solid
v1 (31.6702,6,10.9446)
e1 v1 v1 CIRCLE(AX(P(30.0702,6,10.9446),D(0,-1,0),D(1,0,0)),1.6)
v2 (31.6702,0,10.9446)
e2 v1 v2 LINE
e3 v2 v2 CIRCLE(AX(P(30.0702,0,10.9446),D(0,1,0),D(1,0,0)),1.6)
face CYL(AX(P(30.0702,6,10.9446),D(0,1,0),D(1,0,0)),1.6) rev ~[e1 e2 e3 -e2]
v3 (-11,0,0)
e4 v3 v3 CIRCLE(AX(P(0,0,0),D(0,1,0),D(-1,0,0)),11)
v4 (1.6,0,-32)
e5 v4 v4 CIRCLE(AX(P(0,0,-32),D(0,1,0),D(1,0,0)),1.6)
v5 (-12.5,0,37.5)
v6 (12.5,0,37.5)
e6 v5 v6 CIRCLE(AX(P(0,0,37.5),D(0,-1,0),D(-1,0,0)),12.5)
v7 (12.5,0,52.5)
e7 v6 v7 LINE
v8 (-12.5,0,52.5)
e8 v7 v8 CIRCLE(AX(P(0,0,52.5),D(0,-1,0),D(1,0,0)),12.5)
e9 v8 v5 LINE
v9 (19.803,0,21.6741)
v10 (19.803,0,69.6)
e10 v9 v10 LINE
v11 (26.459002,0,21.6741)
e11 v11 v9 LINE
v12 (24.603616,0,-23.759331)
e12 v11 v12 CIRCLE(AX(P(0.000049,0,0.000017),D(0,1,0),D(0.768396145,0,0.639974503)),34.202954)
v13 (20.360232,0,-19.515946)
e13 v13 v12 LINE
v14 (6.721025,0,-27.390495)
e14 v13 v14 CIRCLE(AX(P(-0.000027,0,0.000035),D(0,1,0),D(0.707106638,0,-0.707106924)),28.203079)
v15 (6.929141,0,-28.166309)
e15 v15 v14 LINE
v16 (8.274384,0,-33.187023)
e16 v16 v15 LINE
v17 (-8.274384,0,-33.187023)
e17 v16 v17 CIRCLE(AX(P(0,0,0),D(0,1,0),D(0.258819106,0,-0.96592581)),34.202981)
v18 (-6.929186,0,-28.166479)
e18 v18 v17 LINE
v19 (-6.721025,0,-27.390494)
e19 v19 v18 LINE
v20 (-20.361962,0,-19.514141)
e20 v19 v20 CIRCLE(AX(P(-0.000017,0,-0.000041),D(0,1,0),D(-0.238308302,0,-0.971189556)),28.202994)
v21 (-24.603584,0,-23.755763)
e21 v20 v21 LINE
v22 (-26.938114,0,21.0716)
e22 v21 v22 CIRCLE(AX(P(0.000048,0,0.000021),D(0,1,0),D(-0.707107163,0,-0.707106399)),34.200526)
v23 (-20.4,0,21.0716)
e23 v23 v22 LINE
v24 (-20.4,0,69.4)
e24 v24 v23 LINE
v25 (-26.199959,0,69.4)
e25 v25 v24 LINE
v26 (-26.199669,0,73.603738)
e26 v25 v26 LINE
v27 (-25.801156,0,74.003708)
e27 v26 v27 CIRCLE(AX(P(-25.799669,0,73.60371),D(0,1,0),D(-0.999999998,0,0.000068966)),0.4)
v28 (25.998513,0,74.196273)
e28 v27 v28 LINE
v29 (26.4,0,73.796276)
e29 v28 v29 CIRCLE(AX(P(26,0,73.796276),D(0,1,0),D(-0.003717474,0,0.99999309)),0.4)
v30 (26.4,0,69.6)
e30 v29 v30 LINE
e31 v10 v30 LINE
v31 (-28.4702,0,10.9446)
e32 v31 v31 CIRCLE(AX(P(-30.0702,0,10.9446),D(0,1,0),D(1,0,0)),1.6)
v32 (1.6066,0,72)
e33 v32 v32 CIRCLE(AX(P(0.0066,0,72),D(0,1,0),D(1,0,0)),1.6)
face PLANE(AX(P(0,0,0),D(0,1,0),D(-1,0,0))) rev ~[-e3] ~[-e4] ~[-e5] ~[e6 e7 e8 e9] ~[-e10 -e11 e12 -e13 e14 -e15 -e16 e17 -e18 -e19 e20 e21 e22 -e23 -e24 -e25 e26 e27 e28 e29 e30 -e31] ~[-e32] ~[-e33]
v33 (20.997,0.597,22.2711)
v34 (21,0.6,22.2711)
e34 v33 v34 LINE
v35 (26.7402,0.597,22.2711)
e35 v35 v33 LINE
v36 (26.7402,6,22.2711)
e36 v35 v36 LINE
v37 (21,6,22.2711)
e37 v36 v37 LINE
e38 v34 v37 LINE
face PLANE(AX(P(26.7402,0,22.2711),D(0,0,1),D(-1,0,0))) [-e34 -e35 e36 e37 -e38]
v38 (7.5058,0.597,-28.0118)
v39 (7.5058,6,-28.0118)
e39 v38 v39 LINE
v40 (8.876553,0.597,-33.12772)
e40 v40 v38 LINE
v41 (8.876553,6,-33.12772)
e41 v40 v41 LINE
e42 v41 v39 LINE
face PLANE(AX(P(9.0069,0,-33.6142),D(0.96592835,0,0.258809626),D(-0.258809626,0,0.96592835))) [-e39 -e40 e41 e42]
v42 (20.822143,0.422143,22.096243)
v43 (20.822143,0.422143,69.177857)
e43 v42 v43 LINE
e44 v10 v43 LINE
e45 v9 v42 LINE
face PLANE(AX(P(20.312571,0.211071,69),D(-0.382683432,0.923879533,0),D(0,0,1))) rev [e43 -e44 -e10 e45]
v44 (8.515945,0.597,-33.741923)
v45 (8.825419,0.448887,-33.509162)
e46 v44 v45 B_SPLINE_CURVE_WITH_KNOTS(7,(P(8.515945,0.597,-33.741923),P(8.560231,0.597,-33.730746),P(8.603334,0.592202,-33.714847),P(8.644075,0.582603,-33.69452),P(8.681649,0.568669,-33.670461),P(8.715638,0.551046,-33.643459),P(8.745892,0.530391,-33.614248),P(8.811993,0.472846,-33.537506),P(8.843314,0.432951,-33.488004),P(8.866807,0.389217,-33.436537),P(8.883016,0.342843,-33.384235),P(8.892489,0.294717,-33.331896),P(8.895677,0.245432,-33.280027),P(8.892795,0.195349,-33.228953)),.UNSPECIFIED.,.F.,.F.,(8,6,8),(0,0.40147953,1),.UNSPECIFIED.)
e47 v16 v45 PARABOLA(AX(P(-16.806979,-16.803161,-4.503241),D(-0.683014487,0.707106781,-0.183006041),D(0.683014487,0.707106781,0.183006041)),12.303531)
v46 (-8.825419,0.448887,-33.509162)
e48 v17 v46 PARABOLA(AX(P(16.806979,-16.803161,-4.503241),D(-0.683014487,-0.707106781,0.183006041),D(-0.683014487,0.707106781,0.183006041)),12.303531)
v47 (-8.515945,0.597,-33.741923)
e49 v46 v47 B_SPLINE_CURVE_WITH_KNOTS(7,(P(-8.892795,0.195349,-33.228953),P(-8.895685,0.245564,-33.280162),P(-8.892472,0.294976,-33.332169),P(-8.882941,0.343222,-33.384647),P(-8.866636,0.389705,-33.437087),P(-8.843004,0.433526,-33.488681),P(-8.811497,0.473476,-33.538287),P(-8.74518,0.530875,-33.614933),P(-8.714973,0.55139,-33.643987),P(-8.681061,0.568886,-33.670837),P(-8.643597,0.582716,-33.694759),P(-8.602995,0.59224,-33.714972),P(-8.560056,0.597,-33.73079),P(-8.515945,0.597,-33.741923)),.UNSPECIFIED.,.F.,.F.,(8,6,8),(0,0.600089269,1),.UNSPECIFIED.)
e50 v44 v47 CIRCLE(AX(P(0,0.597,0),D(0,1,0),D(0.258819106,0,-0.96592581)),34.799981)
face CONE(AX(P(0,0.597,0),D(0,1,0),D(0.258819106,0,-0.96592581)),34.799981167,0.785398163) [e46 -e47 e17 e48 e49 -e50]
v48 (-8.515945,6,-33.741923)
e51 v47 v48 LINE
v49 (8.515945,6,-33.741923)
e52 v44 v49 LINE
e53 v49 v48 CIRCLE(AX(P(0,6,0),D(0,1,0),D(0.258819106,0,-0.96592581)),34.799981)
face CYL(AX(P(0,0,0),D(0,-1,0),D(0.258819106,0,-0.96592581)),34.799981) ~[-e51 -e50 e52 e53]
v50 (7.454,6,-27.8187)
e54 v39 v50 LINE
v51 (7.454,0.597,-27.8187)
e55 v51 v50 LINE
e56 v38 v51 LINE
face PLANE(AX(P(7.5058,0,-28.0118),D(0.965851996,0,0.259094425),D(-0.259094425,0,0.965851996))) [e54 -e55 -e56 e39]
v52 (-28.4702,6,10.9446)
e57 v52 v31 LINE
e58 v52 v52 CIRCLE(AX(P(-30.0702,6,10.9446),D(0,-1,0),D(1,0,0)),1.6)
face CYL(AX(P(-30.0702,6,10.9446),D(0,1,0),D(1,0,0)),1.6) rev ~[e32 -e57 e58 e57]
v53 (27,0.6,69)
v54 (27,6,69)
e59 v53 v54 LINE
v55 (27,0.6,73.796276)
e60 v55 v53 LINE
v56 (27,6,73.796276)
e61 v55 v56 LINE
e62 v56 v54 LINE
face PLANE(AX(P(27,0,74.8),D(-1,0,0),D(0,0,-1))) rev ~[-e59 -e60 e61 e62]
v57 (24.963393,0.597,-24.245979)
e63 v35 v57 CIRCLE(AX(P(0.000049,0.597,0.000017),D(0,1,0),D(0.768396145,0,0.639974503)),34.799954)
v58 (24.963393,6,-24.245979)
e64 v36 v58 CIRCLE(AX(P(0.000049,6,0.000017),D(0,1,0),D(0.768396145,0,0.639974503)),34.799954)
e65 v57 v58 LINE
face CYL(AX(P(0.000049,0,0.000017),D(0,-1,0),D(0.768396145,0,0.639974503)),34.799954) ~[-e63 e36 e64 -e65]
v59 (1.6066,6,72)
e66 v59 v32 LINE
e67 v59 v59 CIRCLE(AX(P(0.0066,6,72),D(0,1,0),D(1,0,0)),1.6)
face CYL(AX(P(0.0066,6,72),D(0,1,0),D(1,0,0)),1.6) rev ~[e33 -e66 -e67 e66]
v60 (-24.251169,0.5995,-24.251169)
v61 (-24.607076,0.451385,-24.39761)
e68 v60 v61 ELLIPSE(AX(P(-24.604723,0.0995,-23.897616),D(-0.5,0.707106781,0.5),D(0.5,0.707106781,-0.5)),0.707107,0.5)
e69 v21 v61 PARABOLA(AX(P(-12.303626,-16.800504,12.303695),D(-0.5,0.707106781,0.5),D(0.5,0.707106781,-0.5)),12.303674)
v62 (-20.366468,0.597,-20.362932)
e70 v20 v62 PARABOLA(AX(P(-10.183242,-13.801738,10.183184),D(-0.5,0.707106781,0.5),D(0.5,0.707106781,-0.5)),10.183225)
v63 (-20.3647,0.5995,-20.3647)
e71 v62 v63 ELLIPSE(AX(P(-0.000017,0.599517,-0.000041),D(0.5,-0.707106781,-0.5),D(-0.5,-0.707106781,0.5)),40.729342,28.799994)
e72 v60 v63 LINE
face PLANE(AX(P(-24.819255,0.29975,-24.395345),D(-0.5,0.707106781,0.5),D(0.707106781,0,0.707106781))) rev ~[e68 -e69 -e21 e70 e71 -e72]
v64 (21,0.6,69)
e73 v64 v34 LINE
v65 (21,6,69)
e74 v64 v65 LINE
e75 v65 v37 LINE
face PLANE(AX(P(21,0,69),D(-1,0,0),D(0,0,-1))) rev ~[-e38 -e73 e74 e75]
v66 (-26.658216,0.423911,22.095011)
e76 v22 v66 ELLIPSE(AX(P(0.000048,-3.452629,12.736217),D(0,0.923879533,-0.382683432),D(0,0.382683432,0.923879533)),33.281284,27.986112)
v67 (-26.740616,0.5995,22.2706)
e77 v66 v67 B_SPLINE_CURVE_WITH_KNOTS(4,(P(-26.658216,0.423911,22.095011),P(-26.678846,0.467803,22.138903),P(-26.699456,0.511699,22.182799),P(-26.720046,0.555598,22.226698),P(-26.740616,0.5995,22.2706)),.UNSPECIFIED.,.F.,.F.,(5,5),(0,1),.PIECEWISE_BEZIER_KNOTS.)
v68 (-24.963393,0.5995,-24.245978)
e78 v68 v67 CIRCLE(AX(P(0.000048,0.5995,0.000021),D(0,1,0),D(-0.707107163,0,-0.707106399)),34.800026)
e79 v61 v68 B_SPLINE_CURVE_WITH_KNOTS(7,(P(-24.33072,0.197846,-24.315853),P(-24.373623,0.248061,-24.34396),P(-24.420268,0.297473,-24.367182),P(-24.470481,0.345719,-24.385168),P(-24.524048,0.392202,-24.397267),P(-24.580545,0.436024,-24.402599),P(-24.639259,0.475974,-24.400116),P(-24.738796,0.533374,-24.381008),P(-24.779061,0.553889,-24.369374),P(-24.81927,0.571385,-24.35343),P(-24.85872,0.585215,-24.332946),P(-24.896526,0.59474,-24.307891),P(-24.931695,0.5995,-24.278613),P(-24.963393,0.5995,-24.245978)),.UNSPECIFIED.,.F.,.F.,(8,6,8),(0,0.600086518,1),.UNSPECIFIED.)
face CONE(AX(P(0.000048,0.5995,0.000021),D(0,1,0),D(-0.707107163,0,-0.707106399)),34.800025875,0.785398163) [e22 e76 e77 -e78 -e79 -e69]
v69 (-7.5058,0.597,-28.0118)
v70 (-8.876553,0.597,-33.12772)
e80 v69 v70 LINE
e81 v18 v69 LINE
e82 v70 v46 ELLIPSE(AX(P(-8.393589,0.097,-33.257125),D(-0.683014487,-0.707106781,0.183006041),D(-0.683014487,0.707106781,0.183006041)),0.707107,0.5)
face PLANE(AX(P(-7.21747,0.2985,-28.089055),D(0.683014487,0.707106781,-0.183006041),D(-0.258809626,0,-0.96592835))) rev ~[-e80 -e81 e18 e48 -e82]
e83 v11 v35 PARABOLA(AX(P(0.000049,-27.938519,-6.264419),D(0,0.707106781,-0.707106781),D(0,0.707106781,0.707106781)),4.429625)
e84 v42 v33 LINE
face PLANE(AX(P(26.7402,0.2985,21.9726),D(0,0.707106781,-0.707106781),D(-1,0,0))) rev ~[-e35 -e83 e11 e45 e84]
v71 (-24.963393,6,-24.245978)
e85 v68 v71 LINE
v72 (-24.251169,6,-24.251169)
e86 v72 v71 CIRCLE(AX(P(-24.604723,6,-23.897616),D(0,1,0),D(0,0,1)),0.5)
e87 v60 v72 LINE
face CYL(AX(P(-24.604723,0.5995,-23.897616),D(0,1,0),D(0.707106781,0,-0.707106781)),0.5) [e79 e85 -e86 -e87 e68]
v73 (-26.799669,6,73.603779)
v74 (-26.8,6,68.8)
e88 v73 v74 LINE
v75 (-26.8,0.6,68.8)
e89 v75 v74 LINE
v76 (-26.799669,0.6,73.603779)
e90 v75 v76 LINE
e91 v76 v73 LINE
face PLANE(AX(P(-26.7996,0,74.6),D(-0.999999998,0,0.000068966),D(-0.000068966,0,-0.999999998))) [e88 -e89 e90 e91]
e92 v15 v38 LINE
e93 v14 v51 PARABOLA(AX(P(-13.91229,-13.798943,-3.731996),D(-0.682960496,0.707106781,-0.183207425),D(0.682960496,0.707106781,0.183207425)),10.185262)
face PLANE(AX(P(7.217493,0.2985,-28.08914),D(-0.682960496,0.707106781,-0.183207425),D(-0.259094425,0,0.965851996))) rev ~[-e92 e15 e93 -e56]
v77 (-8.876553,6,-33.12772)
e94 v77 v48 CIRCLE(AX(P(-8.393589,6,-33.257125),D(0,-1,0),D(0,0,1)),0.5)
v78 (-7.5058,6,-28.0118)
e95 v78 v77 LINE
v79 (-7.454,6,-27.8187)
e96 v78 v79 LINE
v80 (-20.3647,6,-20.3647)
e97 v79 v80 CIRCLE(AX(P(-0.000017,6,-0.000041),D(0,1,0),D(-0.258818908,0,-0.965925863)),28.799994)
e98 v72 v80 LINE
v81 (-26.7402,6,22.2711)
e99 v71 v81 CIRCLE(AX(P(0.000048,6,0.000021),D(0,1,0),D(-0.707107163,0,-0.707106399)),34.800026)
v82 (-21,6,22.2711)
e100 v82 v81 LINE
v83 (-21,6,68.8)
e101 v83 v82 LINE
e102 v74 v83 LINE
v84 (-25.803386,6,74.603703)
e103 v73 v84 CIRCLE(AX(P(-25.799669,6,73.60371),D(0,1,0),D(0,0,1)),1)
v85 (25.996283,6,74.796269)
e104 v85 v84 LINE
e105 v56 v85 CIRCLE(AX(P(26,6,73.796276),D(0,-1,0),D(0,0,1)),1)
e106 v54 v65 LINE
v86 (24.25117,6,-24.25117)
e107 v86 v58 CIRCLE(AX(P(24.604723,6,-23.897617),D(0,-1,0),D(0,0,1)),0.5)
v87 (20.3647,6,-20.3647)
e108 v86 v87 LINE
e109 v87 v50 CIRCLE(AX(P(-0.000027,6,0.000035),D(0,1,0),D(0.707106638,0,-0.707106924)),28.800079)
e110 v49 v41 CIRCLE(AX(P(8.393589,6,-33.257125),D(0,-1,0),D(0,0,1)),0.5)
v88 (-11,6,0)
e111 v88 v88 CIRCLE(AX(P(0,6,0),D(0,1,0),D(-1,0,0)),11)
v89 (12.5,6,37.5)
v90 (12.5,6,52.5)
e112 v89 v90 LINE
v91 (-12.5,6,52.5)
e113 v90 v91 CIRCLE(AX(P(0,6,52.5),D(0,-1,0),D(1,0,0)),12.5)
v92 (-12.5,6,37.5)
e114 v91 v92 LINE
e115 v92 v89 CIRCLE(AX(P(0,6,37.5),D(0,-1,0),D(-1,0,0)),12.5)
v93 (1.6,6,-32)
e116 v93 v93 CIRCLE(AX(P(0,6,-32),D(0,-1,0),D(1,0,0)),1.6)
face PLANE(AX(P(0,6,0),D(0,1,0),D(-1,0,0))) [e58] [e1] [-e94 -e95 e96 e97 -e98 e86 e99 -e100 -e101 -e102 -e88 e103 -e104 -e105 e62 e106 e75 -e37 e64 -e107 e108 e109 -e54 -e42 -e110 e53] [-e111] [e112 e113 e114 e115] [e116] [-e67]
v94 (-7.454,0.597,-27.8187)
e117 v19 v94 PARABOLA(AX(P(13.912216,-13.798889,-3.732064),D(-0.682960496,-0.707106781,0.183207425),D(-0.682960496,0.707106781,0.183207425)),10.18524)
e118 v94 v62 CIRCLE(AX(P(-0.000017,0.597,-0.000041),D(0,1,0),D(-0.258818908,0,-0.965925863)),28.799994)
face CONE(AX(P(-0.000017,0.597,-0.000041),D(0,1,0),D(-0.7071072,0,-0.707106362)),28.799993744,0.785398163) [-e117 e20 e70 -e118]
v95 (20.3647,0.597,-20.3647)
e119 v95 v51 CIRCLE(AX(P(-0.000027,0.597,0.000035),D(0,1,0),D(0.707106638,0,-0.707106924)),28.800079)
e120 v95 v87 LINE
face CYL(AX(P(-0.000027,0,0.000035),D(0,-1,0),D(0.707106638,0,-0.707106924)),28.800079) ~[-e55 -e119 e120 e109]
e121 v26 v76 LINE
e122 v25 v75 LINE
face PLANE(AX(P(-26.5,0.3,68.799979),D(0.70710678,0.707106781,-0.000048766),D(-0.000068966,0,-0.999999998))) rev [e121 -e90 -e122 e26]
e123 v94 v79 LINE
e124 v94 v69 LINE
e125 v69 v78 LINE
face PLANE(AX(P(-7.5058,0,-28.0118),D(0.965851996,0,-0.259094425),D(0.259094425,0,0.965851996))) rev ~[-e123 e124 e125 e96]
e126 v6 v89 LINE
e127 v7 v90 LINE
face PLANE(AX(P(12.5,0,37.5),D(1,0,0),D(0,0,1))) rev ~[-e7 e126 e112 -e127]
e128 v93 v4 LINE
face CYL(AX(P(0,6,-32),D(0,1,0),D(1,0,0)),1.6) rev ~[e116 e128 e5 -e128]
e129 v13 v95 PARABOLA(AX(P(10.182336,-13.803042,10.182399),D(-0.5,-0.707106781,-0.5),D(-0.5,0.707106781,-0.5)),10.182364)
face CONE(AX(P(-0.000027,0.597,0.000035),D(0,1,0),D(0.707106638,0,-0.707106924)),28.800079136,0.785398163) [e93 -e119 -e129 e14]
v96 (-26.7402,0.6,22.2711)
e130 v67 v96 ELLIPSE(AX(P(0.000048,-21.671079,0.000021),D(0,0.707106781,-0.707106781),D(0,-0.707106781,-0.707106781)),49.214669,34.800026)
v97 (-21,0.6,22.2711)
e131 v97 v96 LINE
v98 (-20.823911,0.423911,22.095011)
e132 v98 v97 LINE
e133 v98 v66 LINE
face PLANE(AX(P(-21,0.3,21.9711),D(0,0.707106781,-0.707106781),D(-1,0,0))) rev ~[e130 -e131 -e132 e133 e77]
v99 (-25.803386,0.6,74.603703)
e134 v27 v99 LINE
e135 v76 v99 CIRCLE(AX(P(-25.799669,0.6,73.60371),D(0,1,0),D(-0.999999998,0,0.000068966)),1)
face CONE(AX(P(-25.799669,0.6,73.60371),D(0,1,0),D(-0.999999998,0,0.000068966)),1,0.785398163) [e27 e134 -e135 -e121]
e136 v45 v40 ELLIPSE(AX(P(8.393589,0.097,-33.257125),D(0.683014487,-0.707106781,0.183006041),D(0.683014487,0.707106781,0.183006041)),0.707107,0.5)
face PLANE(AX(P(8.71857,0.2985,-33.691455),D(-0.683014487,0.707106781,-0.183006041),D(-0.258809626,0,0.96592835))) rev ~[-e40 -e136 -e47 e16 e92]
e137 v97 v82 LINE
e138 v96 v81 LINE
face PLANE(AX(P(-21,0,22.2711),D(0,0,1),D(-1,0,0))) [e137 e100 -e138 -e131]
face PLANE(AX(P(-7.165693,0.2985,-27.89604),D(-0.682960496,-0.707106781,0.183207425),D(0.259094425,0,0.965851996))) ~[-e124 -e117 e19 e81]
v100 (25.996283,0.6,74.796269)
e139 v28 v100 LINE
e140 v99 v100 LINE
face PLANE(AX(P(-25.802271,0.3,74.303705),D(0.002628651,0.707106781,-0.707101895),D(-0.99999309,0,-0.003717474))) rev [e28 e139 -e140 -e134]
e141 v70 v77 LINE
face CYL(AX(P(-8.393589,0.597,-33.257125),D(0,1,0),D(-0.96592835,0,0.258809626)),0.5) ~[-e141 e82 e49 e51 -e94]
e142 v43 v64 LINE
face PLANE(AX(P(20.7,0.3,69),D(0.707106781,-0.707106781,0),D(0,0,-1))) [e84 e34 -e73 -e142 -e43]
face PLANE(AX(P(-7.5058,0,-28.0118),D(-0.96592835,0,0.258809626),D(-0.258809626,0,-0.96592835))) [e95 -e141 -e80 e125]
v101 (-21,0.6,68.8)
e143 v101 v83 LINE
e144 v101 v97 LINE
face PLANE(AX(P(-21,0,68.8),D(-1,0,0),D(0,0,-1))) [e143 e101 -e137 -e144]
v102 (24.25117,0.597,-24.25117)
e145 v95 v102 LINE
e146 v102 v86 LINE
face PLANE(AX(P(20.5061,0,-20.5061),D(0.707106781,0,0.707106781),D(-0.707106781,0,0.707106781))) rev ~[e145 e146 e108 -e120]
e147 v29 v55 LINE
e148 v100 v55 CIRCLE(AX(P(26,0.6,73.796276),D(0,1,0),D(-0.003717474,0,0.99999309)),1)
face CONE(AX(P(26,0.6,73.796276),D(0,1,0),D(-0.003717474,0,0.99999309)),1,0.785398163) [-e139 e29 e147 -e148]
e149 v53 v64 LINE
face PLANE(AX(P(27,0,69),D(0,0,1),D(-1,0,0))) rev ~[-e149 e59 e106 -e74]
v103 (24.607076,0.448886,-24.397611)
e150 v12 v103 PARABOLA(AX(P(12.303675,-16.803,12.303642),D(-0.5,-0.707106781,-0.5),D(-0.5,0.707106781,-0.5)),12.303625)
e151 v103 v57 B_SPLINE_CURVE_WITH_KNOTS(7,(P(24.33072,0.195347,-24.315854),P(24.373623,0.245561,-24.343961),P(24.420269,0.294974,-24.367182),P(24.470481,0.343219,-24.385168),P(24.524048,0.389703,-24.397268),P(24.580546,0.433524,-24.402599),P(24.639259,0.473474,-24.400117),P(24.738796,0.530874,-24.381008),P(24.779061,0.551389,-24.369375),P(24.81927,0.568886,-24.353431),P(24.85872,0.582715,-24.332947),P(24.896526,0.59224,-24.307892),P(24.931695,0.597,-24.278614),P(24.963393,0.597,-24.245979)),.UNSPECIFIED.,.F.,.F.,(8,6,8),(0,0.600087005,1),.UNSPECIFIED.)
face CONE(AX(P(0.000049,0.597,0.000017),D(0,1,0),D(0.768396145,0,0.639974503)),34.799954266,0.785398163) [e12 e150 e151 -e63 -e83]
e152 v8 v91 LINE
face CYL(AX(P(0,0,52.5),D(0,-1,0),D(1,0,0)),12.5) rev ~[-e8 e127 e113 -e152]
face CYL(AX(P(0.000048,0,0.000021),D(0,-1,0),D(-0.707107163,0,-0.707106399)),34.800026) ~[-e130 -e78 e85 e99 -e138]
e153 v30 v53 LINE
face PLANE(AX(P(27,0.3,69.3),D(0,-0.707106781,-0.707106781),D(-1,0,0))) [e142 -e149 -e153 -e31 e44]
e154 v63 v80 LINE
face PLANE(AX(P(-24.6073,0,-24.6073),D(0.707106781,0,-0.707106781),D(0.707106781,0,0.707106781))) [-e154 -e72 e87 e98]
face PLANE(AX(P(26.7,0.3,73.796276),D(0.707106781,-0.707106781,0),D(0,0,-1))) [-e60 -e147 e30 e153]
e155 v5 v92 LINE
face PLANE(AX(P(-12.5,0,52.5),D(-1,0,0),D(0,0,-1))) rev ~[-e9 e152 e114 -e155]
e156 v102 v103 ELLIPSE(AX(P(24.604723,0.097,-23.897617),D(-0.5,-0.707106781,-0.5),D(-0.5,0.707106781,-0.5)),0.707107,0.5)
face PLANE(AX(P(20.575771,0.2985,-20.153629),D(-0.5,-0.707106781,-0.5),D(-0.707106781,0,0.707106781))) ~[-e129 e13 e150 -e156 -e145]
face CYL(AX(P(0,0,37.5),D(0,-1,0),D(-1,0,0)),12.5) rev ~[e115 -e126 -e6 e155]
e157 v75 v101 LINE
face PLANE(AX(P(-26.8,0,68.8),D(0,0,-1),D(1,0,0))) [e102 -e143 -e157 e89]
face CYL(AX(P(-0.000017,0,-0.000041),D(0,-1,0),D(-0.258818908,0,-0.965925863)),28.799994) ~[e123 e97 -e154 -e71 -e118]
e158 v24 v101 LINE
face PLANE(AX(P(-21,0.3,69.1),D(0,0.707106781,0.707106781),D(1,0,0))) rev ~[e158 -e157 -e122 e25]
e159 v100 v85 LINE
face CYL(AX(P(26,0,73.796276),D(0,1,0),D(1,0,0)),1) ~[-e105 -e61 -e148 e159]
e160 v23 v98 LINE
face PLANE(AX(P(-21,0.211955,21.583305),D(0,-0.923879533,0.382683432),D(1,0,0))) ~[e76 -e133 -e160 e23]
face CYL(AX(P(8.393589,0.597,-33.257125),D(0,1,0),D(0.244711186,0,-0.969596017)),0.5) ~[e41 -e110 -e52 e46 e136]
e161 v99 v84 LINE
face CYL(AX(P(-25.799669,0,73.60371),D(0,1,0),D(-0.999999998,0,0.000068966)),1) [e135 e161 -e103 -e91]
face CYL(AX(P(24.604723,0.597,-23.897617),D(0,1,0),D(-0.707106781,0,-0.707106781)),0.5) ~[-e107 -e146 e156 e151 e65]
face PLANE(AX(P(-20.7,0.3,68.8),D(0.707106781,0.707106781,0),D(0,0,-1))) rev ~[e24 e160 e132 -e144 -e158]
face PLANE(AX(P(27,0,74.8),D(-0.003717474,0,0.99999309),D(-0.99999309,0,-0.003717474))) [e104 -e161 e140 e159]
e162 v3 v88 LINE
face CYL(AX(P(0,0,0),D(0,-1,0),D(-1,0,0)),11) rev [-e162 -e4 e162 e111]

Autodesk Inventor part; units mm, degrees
ref_plane "YZ Plane" through (0, 0, 0) normal (1, 0, 0) x (0, 1, 0)
ref_plane "XZ Plane" through (0, 0, 0) normal (0, 1, 0) x (-1, 0, 0)
ref_plane "XY Plane" through (0, 0, 0) normal (0, 0, 1) x (1, 0, 0)
sketch "Boceto1" plane through (0, 0, 0) normal (0, 1, 0) x (-1, 0, 0)
  line L0 (26.7996, 74.6) -> (26.8, 68.8)
  line L1 (21, 68.8) -> (21, 22.2711)
  line L2 (7.5058, -28.0118) -> (9.0069, -33.6142)
  line L3 (-9.0069, -33.6142) -> (-7.5058, -28.0118)
  line L4 (-7.5058, -28.0118) -> (-9.0069, -33.6142)
  line L5 (-20.5061, -20.5061) -> (-24.6073, -24.6073)
  line L6 (-20.5061, -20.5061) -> (-24.6073, -24.6073)
  circle A0 centre (0, 0) radius 11
  line L7 (-21, 69) -> (-21, 22.2711)
  line L8 (-21, 22.2711) -> (-21, 69)
  line L9 (-26.7402, 22.2711) -> (-21, 22.2711)
  line L10 (-27, 74.8) -> (26.7996, 74.6)
  arc A1 (-9.0069, -33.6142) -> (9.0069, -33.6142) centre (0, 0) ccw
  arc A2 (-26.7402, 22.2711) -> (-24.6073, -24.6073) centre (0, 0) ccw
  arc A3 (24.6073, -24.6073) -> (26.7402, 22.2711) centre (0, 0) ccw
  line L11 (26.8, 68.8) -> (21, 68.8)
  line L12 (21, 22.2711) -> (26.7402, 22.2711)
  line L13 (-27, 74.8) -> (-27, 69)
  line L14 (-27, 69) -> (-21, 69)
  line L15 (24.6073, -24.6073) -> (20.3647, -20.3647)
  line L16 (7.5058, -28.0118) -> (7.454, -27.8187)
  line L17 (-7.5058, -28.0118) -> (-7.454, -27.8187)
  line L18 (-20.5061, -20.5061) -> (-20.3647, -20.3647)
  arc A4 (-20.3647, -20.3647) -> (-7.454, -27.8187) centre (0, 0) ccw
  arc A5 (7.454, -27.8187) -> (20.3647, -20.3647) centre (0, 0) ccw
  point P0 (0, 0)
  point P1 (0, 0)
  dimension "d3" = 53.8
  dimension "d5" = 22
  dimension "d15" = 5.8
  dimension "d16" = 46.5289
extrude "Extrusión1" add sketch "Boceto1" along normal blind 6
fillet "Empalme2" radius 1 2 edges at (27, 3, 74.8) (-26.7996, 3, 74.6)
chamfer "Chaflán1" distance 0.6 angle 45 6 edges at (27, 0, 71.3981) (26.7058, 0, 74.5047) (0.0964, 0, 74.7) (-26.5081, 0, 74.3095) (-26.7998, 0, 71.2019) (24, 0, 69)
chamfer "Chaflán2" distance 0.6 angle 45 1 edges at (21, 0, 45.6355)
chamfer "Chaflán3" distance 0.6 angle 45 1 edges at (-21, 0, 45.5355)
chamfer "Chaflán4" distance 0.6 angle 45 2 edges at (-23.6, 0, 68.8) (-23.8701, 0, 22.2711)
chamfer "Chaflán5" distance 0.6 angle 45 3 edges at (-34.7443, 0, -1.9681) (-24.1144, 0, 21.6711) (-22.486, 0, -22.486)
chamfer "Chaflán6" distance 0.6 angle 45 9 edges at (-14.4, 0, -24.9415) (-8.2563, 0, -30.813) (0, 0, -34.8) (8.2563, 0, -30.813) (14.4, 0, -24.9415) (22.5567, 0, -22.5567) (34.764, 0, -1.5817) (23.8701, 0, 22.2711) (20.4, 0, 45.6355)
fillet "Empalme4" radius 0.5 4 edges at (-9.0069, 3.2998, -33.6142) (-24.6073, 3.2998, -24.6073) (9.0069, 3.2998, -33.6142) (24.6073, 3.2998, -24.6073)
sketch "Boceto2" plane through (0, 0, 0) normal (0, -1, 0) x (1, 0, 0)
  line L0 (0, 52.5) -> (0, 37.5) construction
  line L1 (-12.5, 52.5) -> (-12.5, 37.5)
  line L2 (12.5, 37.5) -> (12.5, 52.5)
  arc A0 (12.5, 52.5) -> (-12.5, 52.5) centre (0, 52.5) ccw
  arc A1 (-12.5, 37.5) -> (12.5, 37.5) centre (0, 37.5) ccw
  point P0 (0, 0)
  point P1 (0, 45)
  dimension "d43" = 25
  dimension "d44" = 15
  dimension "d45" = 37.5
extrude "Extrusión2" cut sketch "Boceto2" against normal blind 6
sketch "Boceto3" plane through (0, 6, 0) normal (0, 1, 0) x (1, 0, 0)
  circle A0 centre (0.0066, -72) radius 1.6
  circle A1 centre (0, 0) radius 32
  circle A2 centre (0, 32) radius 1.6
  circle A3 centre (-30.0702, -10.9446) radius 1.6
  circle A4 centre (30.0702, -10.9446) radius 1.6
  line L0 (0, 0) -> (-30.0702, -10.9446)
  line L1 (0, 0) -> (30.0702, -10.9446)
  line L2 (9.4586, 0) -> (-7.7353, 0)
  dimension "d48" = 64
  dimension "d49" = 3.2
  dimension "d50" = 20
  dimension "d51" = 20
  dimension "d53" = 72
extrude "Extrusión3" cut sketch "Boceto3" against normal through all contours A0 | A2 A1 | A1 A2 | A4 A1 | A1 L1 A4 | A1 A4 L1 | A3 L0 A1 | A1 A3 | L0 A3 A1
properties part number "Tapa de caja reductora - eje z" material "Plastico PETG"
